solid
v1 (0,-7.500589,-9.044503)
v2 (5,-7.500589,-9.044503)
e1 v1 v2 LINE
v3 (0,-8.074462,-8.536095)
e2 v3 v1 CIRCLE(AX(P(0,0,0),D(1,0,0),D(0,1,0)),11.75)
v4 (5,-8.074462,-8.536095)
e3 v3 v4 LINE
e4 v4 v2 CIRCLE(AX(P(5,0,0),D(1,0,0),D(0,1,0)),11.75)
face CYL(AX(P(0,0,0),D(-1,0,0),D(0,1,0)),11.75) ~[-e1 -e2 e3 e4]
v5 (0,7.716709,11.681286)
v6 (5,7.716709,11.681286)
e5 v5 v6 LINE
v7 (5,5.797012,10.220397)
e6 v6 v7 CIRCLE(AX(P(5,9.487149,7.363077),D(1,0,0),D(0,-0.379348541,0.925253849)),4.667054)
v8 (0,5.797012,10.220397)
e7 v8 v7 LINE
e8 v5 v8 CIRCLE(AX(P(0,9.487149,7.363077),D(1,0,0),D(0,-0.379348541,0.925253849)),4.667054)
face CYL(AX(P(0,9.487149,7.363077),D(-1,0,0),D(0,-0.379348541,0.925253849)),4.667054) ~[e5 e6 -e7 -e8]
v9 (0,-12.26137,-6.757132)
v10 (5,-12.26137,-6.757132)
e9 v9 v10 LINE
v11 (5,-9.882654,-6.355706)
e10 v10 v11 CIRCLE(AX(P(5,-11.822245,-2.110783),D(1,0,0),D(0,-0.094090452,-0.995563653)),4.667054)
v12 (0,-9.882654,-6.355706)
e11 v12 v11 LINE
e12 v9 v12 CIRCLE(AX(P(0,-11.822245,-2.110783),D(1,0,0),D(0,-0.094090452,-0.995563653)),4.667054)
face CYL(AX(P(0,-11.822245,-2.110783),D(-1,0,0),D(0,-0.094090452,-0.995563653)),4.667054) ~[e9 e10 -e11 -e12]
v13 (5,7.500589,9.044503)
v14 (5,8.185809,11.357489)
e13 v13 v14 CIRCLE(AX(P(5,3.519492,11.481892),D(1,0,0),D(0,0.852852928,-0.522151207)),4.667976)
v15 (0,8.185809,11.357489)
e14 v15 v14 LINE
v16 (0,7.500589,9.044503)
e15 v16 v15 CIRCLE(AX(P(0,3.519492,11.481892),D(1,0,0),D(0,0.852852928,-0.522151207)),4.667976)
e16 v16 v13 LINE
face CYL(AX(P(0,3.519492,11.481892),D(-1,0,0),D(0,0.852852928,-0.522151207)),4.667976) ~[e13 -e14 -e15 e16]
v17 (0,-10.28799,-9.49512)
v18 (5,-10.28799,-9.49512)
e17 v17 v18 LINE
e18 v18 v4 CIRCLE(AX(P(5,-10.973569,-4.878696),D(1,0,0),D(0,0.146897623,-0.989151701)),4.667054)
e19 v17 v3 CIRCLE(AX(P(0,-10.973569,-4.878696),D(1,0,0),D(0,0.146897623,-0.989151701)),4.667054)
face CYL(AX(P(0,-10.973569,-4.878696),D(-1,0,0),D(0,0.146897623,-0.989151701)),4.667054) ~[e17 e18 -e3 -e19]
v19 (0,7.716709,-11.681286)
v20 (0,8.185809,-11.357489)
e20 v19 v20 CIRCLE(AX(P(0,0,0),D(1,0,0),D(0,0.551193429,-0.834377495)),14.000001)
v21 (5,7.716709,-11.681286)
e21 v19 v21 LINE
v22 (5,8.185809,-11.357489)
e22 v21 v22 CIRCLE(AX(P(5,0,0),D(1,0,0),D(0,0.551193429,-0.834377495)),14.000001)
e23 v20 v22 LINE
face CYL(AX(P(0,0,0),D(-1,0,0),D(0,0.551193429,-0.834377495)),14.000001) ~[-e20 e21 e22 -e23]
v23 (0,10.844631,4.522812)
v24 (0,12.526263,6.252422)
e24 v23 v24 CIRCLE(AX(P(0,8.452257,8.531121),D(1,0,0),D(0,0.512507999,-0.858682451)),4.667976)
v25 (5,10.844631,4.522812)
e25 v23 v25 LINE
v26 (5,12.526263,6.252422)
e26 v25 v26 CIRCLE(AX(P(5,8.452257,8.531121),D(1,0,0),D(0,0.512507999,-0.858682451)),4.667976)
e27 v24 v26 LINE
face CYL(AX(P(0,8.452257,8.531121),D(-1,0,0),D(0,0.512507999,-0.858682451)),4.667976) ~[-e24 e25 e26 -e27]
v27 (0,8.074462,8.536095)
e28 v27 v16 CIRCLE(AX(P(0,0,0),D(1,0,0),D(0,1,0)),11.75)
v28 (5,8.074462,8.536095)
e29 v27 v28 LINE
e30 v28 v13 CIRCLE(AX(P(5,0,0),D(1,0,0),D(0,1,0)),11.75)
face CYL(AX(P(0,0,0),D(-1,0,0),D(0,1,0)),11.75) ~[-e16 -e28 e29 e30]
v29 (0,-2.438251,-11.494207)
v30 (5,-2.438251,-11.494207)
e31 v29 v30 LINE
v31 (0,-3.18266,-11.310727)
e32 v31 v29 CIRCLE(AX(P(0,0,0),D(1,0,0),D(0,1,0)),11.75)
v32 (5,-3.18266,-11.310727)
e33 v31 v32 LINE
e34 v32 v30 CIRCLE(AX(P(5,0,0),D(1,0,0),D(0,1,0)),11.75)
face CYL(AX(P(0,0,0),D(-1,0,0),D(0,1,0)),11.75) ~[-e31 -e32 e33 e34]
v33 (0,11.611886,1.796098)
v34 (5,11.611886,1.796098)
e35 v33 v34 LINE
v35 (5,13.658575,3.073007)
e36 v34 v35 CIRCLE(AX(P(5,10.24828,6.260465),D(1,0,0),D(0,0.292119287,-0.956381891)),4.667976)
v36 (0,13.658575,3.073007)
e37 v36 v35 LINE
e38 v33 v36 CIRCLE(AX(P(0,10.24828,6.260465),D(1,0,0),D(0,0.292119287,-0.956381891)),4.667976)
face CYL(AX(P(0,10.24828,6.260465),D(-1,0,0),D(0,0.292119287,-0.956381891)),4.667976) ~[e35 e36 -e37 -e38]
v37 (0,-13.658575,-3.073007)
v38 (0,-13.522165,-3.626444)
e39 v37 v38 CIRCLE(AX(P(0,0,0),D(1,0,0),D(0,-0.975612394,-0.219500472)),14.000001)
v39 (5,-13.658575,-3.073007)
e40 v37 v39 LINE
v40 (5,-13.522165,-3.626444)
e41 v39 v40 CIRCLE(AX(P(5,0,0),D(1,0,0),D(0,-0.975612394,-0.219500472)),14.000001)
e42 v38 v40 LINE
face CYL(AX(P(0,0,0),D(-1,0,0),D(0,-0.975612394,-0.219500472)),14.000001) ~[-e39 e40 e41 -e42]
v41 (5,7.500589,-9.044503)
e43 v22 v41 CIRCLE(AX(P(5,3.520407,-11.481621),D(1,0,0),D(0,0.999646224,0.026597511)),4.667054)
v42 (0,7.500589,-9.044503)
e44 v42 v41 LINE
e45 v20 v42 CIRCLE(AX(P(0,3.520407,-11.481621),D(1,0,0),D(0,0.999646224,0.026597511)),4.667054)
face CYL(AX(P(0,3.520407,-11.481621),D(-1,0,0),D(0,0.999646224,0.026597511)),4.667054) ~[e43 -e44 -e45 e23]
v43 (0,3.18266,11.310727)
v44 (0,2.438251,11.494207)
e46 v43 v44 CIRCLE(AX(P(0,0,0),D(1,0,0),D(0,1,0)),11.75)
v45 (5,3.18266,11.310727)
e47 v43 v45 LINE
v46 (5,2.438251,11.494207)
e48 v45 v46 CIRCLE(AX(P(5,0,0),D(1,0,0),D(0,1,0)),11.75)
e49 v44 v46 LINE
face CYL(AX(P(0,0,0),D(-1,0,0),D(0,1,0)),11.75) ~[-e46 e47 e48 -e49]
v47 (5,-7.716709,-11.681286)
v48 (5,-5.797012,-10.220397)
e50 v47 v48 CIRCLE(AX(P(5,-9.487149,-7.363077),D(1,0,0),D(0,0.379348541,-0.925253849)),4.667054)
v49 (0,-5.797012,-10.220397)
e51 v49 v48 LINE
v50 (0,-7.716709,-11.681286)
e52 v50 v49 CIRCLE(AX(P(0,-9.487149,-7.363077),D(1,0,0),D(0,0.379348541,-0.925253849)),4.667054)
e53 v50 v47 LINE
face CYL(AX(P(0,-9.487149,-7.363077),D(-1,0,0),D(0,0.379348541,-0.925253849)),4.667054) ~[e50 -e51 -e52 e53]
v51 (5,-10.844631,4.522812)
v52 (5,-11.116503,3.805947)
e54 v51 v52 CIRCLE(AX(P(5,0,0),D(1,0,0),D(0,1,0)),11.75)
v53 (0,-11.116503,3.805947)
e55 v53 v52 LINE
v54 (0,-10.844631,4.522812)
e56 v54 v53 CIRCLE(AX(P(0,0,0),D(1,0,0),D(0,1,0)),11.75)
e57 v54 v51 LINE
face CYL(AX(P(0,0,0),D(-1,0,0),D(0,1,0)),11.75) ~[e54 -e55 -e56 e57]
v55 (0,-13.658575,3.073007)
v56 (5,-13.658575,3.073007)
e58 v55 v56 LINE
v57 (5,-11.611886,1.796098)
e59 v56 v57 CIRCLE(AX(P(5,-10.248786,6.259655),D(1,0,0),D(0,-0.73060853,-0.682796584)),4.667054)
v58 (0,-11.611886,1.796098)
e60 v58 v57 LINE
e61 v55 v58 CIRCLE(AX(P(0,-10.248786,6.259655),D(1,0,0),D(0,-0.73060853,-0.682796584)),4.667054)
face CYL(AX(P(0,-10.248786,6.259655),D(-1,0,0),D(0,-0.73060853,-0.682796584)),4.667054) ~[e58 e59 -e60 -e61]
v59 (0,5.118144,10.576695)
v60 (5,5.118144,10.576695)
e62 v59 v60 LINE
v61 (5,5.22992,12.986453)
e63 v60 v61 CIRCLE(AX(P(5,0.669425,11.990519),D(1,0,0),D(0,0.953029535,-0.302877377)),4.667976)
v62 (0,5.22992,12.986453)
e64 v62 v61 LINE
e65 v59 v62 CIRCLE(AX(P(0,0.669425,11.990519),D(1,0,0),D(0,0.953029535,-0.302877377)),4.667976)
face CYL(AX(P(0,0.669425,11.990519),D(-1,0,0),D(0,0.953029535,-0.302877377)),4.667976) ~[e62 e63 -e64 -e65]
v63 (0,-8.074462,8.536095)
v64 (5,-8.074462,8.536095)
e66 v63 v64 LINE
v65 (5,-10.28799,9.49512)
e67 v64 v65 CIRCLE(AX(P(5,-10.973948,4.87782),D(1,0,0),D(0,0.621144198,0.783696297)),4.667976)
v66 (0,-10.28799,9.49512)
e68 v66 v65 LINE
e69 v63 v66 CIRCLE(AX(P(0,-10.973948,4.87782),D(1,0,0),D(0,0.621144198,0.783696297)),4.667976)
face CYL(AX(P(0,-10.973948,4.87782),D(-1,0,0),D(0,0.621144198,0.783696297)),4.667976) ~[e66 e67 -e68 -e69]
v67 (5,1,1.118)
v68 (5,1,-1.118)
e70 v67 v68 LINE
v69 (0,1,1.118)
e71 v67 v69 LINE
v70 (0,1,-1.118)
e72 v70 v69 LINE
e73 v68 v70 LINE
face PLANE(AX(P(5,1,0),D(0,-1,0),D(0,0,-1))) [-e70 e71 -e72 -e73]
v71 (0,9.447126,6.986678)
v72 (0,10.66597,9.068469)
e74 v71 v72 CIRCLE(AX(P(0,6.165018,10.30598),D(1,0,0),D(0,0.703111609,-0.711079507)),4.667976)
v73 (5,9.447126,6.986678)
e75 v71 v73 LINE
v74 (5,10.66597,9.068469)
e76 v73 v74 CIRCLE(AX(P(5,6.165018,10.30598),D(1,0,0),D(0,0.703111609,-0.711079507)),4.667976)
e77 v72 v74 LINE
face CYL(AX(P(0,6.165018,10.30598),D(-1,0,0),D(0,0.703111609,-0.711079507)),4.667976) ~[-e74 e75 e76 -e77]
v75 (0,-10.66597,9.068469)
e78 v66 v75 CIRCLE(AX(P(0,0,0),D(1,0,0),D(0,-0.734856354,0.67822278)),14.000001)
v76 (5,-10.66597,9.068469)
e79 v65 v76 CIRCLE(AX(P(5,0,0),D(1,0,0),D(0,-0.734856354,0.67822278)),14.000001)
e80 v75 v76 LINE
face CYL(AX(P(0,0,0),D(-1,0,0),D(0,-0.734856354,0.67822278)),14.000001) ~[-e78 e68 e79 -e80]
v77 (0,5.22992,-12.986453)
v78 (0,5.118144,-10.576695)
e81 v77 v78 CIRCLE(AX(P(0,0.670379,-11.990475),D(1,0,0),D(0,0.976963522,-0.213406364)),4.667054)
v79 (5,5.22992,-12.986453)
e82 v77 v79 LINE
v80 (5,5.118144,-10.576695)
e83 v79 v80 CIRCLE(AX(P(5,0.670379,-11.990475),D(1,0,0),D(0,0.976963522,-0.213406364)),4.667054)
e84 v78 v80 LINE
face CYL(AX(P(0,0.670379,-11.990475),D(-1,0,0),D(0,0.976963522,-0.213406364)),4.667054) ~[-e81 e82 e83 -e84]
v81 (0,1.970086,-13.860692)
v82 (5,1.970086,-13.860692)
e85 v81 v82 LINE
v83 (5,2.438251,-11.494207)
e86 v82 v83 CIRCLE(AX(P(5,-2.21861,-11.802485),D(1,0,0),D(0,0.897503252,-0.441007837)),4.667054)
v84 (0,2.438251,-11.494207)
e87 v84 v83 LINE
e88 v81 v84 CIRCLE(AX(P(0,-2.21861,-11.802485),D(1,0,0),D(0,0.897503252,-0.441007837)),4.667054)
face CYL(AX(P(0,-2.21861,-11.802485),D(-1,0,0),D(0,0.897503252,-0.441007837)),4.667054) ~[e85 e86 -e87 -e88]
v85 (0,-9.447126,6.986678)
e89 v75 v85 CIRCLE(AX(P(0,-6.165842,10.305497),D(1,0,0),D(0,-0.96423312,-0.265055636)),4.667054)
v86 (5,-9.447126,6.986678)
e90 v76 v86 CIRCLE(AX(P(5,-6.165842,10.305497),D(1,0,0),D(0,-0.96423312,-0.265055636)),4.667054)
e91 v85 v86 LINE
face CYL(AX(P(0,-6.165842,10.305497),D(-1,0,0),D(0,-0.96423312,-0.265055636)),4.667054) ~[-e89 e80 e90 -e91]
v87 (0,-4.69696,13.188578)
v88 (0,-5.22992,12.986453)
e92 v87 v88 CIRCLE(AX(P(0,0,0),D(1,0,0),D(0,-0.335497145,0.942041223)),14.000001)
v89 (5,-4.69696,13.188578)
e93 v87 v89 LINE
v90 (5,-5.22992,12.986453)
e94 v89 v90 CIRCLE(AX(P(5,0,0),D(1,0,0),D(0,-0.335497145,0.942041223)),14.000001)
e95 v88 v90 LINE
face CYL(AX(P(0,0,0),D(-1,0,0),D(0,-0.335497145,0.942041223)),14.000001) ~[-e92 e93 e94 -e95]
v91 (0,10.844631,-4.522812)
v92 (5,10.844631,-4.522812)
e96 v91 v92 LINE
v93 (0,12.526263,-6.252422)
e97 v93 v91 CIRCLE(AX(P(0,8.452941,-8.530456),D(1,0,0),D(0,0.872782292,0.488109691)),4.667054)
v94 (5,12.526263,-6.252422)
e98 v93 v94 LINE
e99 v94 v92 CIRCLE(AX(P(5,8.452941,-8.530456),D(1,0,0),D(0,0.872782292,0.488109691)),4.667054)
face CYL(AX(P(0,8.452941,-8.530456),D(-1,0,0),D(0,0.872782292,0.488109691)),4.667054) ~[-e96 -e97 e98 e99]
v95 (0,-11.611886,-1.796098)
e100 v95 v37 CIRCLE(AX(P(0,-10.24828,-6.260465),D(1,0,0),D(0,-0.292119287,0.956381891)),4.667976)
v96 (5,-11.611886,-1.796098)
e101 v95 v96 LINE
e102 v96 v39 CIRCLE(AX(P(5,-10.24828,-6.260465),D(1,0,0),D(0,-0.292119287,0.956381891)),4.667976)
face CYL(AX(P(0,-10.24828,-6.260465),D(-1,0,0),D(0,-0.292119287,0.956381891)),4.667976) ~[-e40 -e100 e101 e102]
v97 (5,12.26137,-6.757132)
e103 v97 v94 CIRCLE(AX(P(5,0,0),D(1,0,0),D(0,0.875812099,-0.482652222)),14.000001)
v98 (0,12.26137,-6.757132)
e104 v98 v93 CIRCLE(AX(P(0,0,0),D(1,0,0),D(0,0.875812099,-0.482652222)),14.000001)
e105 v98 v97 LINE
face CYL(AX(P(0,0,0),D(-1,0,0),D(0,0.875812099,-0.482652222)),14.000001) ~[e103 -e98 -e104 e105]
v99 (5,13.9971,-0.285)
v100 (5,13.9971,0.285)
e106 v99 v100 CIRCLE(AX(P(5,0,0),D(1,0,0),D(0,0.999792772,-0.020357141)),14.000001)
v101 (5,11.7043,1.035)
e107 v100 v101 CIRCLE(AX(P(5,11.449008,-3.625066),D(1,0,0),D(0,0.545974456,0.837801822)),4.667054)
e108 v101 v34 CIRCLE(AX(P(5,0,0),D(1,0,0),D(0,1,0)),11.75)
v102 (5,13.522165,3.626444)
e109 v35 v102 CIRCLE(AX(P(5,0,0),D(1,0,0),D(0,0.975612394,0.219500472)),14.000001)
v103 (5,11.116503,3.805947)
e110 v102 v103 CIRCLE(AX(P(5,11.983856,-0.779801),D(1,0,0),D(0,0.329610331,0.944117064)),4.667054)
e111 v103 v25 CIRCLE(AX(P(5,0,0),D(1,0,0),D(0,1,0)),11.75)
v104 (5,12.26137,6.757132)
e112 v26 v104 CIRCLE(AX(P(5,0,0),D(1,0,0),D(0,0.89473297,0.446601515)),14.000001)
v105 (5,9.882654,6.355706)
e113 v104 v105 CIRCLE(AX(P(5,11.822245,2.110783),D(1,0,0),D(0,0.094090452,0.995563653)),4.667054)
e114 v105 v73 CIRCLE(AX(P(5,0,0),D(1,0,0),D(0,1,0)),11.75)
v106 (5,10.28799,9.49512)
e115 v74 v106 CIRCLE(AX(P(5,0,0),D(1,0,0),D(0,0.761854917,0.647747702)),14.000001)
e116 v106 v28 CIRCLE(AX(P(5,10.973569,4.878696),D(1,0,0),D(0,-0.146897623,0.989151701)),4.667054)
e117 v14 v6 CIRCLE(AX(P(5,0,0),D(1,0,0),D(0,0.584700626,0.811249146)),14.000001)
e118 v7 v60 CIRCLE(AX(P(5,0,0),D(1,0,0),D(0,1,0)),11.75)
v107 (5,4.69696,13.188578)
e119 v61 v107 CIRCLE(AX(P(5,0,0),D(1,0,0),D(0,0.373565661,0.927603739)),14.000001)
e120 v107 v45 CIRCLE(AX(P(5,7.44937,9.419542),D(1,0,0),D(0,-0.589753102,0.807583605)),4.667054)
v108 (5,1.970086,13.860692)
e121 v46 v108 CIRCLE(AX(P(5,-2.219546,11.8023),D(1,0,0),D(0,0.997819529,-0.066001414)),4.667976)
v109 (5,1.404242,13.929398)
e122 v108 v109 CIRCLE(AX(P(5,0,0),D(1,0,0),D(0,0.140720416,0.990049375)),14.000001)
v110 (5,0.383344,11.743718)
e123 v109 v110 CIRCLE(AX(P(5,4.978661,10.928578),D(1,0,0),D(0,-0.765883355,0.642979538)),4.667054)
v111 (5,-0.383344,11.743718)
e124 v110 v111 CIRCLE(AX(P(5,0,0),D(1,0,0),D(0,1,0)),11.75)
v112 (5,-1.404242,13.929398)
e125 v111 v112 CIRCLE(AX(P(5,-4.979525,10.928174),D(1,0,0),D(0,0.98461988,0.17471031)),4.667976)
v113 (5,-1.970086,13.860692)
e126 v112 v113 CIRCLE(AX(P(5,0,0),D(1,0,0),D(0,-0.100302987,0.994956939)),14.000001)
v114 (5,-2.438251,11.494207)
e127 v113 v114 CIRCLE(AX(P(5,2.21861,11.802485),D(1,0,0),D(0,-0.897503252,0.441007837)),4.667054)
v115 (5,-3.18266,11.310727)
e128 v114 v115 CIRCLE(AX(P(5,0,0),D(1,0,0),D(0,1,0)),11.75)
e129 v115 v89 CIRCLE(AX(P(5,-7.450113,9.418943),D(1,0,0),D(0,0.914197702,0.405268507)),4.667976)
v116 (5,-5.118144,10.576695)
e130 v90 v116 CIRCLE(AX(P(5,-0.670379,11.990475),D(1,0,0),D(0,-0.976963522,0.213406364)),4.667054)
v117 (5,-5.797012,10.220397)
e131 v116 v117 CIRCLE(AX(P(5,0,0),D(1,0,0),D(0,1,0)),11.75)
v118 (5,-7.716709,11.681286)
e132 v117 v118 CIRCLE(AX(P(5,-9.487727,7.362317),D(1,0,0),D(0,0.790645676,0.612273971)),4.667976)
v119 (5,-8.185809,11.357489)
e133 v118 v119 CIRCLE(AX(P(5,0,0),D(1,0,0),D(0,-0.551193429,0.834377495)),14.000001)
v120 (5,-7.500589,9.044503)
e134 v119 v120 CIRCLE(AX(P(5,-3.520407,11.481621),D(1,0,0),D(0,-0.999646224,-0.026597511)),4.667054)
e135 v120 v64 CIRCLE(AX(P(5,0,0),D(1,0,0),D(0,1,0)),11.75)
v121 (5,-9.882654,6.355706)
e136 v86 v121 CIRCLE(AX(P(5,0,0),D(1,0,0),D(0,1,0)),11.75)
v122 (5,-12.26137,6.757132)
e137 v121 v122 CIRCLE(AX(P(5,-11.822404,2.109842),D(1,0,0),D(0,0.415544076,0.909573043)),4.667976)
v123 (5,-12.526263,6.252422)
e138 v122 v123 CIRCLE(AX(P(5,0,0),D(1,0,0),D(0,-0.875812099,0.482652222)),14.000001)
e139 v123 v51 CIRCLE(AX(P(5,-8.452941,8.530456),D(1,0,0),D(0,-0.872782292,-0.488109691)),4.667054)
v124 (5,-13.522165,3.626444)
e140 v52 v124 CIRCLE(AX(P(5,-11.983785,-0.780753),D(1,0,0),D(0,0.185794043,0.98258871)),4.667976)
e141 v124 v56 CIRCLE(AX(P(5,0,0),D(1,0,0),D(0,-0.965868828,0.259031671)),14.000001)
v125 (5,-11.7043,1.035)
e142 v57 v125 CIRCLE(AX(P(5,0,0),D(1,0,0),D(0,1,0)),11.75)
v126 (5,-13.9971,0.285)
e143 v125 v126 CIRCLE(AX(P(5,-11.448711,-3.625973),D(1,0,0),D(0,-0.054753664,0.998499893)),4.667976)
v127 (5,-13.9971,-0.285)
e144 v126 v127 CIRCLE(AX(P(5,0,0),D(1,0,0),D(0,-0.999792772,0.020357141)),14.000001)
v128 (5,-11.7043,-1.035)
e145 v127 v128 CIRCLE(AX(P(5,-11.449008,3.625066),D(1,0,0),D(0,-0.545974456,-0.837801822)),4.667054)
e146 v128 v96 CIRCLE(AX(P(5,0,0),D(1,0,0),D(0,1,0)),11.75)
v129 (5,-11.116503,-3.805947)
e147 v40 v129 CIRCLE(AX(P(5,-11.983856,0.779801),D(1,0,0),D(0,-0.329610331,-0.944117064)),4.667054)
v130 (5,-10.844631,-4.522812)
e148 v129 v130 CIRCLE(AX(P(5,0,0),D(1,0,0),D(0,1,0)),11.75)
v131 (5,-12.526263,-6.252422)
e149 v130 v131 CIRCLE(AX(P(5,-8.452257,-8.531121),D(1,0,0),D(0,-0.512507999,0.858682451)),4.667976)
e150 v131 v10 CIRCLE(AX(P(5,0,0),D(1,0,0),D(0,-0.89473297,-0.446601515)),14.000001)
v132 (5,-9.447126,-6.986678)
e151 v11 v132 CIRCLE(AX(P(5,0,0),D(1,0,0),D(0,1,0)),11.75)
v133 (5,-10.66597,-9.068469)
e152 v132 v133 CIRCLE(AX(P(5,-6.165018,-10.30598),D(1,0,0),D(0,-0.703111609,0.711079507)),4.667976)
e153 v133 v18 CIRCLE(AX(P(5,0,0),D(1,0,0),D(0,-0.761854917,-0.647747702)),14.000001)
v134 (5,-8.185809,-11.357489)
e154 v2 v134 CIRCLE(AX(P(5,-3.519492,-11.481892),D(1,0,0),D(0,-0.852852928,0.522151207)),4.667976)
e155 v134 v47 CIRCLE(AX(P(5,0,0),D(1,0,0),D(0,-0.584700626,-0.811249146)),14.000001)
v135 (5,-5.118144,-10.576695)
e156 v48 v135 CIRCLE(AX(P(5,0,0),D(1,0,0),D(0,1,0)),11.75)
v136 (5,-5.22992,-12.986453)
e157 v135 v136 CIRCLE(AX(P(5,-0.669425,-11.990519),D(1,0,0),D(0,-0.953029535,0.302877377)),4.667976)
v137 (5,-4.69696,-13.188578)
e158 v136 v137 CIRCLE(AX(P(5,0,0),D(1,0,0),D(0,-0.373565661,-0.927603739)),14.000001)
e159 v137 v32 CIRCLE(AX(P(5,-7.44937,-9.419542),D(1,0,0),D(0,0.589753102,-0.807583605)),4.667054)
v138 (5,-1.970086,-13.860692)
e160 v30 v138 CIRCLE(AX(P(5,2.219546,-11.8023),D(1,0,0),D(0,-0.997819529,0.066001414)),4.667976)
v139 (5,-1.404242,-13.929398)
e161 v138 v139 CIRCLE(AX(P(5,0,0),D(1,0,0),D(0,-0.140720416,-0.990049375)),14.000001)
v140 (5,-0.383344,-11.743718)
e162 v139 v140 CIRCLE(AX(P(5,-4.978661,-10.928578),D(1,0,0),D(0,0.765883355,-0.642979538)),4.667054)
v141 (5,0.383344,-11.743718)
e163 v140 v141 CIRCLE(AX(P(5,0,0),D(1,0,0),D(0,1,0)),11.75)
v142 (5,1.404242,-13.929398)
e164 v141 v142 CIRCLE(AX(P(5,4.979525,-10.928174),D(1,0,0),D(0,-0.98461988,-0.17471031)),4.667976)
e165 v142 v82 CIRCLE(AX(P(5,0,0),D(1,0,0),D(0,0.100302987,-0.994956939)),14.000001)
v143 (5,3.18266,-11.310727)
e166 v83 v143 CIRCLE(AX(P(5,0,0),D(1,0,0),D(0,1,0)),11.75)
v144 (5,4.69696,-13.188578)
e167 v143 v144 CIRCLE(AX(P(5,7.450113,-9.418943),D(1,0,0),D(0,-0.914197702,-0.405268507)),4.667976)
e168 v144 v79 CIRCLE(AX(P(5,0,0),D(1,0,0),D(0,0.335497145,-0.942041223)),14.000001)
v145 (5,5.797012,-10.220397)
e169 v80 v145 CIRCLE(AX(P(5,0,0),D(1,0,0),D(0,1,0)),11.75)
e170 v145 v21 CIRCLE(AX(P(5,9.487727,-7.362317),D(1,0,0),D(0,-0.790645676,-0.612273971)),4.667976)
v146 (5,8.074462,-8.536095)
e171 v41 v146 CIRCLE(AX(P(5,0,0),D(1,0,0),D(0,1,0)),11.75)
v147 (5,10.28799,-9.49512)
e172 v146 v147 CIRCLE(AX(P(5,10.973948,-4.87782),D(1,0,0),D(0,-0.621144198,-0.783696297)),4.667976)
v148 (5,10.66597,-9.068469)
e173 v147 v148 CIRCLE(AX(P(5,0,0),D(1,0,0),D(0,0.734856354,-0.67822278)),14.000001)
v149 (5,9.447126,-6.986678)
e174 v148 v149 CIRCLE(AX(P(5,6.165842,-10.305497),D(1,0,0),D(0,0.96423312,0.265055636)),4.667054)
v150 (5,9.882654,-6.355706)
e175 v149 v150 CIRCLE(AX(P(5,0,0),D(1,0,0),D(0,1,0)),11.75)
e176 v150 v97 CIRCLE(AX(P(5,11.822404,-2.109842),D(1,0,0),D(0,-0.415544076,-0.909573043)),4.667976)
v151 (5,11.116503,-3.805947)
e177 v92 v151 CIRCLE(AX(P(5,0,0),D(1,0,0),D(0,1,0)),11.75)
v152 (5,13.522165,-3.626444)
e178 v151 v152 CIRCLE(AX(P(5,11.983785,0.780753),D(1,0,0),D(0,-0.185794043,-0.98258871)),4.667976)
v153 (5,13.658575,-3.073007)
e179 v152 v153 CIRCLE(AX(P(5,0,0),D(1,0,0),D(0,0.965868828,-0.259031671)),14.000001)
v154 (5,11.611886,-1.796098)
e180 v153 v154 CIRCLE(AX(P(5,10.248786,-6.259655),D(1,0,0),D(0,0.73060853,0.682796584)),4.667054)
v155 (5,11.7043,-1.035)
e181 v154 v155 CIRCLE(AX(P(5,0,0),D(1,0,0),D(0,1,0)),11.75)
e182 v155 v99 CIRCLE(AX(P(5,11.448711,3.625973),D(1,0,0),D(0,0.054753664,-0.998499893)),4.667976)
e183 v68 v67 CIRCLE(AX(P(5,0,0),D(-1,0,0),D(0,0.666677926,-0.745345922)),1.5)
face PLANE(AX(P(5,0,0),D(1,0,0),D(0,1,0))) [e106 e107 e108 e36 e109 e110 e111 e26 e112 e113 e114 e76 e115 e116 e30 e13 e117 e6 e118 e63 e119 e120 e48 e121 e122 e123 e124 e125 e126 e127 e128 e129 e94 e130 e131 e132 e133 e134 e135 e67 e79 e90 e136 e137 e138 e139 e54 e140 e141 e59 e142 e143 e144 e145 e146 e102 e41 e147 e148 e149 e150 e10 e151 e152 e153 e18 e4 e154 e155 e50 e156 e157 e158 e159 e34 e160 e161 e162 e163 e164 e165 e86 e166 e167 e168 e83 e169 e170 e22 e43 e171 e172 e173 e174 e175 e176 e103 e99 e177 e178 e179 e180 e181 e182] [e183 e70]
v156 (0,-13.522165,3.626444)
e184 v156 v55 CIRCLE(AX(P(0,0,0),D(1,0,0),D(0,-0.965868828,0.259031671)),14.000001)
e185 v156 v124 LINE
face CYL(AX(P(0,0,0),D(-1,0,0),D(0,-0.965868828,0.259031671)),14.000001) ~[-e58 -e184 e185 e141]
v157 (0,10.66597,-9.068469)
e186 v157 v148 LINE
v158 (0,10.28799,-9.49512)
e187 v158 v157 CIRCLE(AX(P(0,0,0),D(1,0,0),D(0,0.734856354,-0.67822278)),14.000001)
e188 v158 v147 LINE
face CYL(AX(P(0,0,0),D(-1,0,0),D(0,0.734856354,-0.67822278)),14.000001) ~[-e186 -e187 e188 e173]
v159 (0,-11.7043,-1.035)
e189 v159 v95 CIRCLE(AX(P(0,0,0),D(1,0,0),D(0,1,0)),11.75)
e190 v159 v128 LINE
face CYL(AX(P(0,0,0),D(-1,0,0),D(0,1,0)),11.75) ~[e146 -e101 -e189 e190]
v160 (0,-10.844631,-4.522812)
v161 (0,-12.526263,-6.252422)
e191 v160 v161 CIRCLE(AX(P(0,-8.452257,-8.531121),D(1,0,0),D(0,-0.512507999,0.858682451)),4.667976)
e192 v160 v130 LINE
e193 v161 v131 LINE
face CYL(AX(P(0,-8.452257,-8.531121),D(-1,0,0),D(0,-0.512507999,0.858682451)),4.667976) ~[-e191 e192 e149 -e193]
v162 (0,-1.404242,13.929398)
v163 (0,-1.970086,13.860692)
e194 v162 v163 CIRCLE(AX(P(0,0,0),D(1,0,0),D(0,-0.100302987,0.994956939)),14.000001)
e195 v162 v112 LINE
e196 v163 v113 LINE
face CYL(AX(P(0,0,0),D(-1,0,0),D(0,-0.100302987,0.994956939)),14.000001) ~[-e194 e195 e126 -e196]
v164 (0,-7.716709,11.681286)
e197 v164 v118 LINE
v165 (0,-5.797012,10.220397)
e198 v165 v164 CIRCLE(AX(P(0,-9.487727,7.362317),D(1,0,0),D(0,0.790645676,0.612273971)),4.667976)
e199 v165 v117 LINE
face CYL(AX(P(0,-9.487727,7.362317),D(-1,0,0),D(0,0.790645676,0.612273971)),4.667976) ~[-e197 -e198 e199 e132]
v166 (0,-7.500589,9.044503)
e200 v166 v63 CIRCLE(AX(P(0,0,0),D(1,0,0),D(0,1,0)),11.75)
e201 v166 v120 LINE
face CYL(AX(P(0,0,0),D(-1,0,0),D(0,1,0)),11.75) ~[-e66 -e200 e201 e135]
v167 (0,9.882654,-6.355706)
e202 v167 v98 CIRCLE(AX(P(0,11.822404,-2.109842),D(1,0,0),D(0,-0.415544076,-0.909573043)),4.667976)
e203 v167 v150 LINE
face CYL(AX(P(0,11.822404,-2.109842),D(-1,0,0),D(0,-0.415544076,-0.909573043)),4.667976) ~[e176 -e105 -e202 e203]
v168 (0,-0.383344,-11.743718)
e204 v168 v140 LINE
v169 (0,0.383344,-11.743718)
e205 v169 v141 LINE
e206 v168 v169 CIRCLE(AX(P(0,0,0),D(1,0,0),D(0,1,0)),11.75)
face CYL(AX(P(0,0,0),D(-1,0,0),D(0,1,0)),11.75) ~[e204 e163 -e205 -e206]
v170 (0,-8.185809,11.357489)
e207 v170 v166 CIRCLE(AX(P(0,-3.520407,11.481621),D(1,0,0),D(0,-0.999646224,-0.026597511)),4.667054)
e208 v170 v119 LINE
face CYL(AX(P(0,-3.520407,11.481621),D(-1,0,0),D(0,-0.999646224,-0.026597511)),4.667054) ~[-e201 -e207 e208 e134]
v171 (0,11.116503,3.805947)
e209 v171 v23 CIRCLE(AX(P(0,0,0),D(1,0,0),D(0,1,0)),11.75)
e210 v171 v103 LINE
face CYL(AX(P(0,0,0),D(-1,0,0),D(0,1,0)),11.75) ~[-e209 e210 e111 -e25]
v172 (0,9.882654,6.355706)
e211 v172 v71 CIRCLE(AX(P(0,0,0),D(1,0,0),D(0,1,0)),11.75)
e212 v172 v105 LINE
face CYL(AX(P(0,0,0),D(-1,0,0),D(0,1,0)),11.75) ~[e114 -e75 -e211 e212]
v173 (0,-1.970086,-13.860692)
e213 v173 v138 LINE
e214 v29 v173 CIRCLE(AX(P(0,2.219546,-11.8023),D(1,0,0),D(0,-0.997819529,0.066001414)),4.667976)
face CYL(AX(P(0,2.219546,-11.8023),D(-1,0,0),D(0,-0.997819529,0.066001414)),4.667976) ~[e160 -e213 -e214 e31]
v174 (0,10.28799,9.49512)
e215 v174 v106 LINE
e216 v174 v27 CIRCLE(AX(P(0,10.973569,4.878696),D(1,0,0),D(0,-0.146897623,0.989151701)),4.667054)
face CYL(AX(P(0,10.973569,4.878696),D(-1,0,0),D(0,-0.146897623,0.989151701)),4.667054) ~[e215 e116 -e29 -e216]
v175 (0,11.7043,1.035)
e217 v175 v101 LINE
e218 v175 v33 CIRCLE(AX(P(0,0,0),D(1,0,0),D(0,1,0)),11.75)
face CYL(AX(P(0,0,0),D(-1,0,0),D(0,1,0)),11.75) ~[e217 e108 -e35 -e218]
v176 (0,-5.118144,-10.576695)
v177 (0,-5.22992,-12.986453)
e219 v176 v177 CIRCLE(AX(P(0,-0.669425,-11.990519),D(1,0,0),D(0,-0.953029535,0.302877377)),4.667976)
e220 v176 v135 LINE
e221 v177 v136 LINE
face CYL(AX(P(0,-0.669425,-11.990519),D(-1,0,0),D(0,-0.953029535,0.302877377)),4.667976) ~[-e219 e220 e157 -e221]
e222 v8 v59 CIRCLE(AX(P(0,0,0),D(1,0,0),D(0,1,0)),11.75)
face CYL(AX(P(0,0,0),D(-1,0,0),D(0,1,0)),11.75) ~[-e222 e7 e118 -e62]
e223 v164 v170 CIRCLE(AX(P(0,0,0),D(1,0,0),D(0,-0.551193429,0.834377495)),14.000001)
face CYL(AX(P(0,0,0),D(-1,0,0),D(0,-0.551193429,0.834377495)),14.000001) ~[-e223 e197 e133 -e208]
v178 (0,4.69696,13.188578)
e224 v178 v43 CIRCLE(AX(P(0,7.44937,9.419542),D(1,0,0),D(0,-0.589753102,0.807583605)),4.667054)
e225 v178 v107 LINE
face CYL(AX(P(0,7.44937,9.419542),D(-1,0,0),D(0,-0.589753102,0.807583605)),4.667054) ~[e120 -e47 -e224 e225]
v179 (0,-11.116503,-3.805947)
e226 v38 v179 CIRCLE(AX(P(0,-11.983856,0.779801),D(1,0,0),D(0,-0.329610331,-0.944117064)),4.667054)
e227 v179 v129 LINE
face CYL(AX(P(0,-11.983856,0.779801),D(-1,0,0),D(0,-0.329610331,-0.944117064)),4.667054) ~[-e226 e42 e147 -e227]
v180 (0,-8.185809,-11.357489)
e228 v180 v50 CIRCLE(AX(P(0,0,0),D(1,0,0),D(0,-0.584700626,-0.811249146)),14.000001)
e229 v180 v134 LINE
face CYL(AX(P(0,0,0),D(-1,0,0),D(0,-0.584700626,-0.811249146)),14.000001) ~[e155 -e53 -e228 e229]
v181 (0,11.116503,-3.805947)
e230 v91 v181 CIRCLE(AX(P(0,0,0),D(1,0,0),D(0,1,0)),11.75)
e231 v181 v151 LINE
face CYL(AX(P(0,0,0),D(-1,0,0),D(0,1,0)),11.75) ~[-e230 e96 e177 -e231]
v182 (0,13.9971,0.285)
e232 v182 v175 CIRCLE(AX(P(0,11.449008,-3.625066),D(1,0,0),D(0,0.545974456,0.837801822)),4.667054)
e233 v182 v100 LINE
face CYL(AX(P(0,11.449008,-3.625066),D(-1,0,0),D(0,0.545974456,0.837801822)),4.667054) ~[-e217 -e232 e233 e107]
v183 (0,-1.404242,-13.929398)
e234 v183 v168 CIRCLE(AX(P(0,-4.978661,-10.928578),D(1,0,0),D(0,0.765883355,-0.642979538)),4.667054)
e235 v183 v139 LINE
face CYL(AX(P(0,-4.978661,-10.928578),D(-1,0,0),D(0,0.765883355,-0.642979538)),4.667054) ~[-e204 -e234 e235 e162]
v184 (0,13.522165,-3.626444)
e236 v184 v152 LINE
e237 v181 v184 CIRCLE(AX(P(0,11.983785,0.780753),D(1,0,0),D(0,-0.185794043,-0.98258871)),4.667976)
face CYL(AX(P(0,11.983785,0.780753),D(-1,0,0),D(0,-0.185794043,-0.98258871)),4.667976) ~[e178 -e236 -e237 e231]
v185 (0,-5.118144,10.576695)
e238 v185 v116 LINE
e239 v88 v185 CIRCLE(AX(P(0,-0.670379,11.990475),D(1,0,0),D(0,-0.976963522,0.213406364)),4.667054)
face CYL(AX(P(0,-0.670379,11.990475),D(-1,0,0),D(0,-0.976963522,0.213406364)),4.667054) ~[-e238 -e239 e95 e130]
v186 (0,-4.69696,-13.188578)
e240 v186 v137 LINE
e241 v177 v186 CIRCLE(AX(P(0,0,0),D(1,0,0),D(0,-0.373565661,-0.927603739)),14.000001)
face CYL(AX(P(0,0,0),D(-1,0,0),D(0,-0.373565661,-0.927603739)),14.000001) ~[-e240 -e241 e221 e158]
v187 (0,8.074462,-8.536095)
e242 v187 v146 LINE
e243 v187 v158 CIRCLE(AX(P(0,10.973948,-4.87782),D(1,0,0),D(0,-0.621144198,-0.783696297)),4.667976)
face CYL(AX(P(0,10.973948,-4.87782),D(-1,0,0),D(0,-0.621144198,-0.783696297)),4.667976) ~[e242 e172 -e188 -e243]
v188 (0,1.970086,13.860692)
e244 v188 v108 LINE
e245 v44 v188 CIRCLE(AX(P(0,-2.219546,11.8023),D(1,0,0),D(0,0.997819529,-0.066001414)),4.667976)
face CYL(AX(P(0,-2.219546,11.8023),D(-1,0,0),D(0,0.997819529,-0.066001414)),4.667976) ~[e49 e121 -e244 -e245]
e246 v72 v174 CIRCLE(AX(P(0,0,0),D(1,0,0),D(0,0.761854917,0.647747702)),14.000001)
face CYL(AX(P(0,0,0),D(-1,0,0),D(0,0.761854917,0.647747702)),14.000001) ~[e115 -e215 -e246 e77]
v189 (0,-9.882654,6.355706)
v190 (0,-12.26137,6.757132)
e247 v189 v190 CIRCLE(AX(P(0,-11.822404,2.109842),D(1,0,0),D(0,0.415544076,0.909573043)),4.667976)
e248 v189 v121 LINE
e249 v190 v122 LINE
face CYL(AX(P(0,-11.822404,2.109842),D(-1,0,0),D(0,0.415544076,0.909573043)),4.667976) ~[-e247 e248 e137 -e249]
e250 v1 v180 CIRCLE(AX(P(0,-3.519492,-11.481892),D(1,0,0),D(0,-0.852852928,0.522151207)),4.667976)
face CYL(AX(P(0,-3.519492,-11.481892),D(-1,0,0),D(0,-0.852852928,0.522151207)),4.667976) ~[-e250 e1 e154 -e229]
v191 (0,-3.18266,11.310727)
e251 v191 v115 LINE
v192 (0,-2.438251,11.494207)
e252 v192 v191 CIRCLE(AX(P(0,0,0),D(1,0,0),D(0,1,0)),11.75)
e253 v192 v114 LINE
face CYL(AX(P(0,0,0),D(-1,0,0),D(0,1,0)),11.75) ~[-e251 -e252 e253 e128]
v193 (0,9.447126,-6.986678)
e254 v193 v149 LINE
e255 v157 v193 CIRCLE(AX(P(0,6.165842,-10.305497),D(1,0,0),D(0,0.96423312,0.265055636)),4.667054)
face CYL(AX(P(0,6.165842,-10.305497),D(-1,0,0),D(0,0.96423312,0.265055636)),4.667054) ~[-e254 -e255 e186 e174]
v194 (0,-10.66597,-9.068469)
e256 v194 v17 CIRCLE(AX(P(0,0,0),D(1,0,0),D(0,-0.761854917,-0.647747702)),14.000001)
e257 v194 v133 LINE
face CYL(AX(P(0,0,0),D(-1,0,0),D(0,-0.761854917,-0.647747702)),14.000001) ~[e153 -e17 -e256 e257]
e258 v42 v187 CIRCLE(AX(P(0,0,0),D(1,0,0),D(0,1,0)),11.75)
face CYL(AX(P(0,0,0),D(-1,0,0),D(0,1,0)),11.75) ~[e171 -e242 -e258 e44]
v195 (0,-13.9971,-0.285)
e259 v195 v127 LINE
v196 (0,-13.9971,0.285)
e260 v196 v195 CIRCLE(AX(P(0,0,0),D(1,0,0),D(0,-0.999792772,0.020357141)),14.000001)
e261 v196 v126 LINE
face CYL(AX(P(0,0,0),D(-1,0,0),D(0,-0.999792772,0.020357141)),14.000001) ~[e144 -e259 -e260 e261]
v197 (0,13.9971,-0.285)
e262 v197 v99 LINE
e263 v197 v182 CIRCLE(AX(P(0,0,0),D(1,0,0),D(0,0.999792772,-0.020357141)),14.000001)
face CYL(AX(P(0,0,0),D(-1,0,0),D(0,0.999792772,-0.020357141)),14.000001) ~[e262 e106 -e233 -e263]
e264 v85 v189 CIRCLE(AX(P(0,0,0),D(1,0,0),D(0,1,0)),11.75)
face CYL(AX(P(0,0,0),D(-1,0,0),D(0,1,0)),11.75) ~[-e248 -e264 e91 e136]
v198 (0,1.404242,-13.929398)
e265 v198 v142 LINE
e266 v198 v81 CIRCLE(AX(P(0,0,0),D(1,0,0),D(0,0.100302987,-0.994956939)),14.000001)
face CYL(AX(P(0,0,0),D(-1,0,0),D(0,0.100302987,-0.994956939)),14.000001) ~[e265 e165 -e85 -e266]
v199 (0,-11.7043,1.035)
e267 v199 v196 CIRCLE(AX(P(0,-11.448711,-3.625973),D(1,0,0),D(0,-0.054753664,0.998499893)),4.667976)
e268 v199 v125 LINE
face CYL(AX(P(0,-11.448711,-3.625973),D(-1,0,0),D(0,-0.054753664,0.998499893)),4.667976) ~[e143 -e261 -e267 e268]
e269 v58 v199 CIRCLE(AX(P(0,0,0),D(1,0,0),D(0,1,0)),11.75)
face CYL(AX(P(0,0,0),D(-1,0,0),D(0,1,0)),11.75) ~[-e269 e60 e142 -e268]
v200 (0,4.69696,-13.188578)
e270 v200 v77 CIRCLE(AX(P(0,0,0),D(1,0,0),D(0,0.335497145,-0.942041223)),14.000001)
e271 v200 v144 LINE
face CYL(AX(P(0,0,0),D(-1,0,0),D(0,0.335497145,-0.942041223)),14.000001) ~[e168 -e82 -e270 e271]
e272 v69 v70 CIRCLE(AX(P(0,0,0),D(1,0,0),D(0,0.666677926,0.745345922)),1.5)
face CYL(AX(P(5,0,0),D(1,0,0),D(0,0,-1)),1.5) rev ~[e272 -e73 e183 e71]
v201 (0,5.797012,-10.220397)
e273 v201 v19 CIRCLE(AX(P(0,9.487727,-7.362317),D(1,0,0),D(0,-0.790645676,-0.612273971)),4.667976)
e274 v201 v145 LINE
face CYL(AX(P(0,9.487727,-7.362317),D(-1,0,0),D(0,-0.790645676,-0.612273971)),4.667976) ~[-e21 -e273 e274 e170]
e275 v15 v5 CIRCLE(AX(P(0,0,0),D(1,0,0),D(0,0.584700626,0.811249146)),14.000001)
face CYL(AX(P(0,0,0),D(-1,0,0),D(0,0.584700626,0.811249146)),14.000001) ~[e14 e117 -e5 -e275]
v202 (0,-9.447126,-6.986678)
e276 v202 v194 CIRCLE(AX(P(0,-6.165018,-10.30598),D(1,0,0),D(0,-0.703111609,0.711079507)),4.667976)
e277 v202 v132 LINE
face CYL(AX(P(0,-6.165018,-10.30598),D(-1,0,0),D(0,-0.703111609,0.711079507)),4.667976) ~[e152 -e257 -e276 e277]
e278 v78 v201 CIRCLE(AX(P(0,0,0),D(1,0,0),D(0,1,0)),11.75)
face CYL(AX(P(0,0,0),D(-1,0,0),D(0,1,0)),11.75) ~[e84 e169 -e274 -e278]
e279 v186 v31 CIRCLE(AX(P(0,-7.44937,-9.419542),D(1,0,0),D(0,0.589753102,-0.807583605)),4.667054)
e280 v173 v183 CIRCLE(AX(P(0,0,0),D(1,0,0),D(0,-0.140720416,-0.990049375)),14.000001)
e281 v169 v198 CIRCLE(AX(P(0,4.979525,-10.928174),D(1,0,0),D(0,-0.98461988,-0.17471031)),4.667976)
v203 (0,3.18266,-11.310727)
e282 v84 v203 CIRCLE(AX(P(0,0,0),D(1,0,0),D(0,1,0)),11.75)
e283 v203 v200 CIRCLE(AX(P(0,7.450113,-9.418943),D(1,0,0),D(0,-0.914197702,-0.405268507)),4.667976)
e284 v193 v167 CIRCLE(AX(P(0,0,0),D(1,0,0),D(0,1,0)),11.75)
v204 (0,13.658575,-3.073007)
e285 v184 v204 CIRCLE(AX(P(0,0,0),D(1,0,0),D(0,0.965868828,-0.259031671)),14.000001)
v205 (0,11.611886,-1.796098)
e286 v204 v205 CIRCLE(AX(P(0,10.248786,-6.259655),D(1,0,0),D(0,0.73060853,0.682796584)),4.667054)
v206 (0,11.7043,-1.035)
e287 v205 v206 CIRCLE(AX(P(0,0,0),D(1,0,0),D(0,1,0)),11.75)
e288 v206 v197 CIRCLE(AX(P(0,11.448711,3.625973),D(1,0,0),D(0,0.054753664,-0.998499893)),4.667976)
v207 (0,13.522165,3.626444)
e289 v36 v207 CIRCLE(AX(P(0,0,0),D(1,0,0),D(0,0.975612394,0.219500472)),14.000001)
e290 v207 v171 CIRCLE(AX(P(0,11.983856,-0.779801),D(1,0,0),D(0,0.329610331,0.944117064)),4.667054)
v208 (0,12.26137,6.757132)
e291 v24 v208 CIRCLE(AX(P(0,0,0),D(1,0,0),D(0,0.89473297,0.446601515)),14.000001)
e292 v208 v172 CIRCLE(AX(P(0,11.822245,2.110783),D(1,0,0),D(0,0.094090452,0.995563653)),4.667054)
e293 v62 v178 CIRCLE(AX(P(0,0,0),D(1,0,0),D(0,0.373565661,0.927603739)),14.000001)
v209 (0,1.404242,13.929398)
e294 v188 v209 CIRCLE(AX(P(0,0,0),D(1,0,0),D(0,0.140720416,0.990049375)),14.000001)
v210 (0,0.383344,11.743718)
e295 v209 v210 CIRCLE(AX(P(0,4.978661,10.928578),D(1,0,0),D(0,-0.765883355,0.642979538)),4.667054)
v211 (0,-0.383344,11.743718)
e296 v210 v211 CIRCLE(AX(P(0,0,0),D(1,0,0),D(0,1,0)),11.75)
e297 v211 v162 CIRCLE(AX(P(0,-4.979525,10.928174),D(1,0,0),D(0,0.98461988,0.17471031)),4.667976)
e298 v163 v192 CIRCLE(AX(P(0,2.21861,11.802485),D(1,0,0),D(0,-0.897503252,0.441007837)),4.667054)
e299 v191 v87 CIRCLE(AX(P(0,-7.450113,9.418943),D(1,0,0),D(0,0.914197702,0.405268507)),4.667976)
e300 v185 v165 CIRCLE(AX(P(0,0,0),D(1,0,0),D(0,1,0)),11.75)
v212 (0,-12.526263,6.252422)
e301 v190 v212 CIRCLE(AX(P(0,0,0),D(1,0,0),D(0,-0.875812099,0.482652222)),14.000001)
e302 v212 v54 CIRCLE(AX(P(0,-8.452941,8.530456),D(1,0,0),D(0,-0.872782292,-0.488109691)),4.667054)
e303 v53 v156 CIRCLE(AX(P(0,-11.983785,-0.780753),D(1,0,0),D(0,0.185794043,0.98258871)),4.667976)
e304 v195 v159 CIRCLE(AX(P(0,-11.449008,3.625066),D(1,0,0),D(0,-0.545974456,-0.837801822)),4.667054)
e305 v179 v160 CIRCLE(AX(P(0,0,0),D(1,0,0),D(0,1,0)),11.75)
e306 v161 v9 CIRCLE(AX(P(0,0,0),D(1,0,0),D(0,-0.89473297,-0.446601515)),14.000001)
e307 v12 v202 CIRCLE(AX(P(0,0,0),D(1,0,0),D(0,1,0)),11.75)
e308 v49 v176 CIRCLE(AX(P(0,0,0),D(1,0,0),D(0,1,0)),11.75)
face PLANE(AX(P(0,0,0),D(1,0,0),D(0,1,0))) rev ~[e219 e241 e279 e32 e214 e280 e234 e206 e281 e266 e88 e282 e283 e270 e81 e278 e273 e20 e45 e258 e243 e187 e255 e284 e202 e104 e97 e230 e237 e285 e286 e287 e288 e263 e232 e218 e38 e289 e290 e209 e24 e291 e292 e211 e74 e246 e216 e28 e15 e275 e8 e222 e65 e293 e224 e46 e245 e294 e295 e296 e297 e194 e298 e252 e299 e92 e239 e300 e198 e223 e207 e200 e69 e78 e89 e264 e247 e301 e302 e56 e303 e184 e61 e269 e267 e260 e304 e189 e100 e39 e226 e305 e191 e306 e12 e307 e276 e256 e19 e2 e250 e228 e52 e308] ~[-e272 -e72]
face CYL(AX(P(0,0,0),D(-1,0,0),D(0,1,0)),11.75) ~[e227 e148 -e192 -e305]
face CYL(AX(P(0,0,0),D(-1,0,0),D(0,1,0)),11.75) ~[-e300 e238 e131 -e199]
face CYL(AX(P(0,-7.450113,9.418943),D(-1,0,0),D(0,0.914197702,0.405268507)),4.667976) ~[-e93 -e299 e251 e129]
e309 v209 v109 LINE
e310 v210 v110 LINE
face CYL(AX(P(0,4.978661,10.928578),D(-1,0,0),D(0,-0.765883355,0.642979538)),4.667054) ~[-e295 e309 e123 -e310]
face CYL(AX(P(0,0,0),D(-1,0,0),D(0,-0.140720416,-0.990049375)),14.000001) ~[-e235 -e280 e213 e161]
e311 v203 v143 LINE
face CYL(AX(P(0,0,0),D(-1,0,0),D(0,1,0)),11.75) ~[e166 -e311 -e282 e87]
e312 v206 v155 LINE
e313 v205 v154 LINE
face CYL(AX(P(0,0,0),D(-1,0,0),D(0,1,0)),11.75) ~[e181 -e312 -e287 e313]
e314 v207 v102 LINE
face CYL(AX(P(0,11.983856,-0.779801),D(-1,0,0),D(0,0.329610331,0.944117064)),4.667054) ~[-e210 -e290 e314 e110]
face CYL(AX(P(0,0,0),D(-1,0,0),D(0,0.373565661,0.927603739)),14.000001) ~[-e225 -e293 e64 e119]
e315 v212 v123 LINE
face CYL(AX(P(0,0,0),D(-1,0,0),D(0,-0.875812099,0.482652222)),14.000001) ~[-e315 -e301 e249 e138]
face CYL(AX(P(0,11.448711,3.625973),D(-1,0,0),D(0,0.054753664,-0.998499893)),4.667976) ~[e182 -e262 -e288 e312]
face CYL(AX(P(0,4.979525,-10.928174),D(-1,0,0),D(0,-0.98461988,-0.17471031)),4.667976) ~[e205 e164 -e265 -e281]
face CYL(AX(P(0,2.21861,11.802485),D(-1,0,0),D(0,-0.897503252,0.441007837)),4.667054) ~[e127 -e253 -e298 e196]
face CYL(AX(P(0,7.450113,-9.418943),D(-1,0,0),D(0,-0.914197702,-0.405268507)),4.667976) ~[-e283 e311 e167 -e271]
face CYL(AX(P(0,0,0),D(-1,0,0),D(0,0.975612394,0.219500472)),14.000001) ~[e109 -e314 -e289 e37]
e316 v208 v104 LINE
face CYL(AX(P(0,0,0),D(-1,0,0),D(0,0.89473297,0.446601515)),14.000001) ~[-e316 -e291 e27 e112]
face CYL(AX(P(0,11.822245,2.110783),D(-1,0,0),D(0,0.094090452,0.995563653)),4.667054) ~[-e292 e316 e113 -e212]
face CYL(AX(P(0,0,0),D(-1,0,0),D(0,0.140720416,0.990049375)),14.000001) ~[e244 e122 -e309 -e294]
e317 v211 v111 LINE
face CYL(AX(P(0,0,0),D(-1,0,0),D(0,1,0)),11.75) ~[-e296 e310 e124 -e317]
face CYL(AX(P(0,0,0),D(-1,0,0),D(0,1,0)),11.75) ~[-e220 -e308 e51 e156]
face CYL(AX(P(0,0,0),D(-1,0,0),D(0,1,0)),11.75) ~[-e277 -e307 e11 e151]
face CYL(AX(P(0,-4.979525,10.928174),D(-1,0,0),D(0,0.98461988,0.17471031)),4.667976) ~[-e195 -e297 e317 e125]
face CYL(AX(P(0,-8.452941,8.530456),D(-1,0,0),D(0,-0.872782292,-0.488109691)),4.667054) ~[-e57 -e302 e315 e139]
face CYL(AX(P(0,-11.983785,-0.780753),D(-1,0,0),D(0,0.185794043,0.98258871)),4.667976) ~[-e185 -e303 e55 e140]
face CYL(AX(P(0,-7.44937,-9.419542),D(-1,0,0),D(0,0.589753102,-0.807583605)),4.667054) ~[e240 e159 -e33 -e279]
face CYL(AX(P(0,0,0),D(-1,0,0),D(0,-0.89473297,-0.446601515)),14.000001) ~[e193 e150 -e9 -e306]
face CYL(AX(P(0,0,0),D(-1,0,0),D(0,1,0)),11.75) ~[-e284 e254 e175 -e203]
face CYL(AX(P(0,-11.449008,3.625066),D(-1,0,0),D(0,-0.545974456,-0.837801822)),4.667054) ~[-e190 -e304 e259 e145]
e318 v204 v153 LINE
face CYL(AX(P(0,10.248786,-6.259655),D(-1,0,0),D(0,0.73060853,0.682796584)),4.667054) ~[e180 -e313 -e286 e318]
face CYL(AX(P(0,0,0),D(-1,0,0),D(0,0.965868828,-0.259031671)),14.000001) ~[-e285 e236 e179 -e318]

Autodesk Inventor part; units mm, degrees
ref_plane "YZ Plane" through (0, 0, 0) normal (1, 0, 0) x (0, 1, 0)
ref_plane "XZ Plane" through (0, 0, 0) normal (0, 1, 0) x (-1, 0, 0)
ref_plane "XY Plane" through (0, 0, 0) normal (0, 0, 1) x (1, 0, 0)
sketch "스케치1" plane through (0, 0, 0) normal (1, 0, 0) x (0, 1, 0)
  circle A0 centre (0, 0) radius 13 construction
  circle A1 centre (0, 0) radius 14 construction
  circle A2 centre (0, 0) radius 11.75
  line L0 (11.75, 0) -> (14, 0) construction
  line L1 (13.9971, 0.285) -> (11.7465, 0.285) construction
  line L2 (13.978, 0.785) -> (11.7237, 0.785) construction
  line L3 (13.9617, 1.035) -> (11.7043, 1.035) construction
  arc A3 (13.9971, -0.285) -> (13.9971, 0.285) centre (0, 0) ccw
  arc A4 (11.7043, -1.035) -> (11.7043, 1.035) centre (0, 0) ccw
  arc A5 (13.9971, 0.285) -> (11.7043, 1.035) centre (11.4488, -3.6255) ccw
  arc A6 (11.7043, -1.035) -> (13.9971, -0.285) centre (11.4488, 3.6255) ccw
  point P0 (11.7043, -1.035)
  dimension "d0" = 26
  dimension "d2" = 2.25
  dimension "d3" = 0.5
  dimension "d4" = 0.25
  dimension "d5" = 0.785
  dimension "d17" = 1
extrude "돌출1" add sketch "스케치1" along normal blind 5 contours A2
extrude "돌출2" add sketch "스케치1" along normal blind 5
pattern_circular "원형 패턴1" count 26 over 360 about axis through (0, 0, 0) along (1, 0, 0) of "돌출2"
sketch "스케치2" plane through (5, 0, 0) normal (1, 0, 0) x (0, 0, -1)
  circle A0 centre (0, 0) radius 1.5
  line L0 (0, -1.5) -> (0, 1)
  line L1 (-1.118, 1) -> (1.118, 1)
  dimension "d13" = 3
  dimension "d14" = 2.5
extrude "돌출3" cut sketch "스케치2" against normal blind 5 contours A0 L0 L1 | A0 L1 L0
properties part number "_3D 인쇄"
